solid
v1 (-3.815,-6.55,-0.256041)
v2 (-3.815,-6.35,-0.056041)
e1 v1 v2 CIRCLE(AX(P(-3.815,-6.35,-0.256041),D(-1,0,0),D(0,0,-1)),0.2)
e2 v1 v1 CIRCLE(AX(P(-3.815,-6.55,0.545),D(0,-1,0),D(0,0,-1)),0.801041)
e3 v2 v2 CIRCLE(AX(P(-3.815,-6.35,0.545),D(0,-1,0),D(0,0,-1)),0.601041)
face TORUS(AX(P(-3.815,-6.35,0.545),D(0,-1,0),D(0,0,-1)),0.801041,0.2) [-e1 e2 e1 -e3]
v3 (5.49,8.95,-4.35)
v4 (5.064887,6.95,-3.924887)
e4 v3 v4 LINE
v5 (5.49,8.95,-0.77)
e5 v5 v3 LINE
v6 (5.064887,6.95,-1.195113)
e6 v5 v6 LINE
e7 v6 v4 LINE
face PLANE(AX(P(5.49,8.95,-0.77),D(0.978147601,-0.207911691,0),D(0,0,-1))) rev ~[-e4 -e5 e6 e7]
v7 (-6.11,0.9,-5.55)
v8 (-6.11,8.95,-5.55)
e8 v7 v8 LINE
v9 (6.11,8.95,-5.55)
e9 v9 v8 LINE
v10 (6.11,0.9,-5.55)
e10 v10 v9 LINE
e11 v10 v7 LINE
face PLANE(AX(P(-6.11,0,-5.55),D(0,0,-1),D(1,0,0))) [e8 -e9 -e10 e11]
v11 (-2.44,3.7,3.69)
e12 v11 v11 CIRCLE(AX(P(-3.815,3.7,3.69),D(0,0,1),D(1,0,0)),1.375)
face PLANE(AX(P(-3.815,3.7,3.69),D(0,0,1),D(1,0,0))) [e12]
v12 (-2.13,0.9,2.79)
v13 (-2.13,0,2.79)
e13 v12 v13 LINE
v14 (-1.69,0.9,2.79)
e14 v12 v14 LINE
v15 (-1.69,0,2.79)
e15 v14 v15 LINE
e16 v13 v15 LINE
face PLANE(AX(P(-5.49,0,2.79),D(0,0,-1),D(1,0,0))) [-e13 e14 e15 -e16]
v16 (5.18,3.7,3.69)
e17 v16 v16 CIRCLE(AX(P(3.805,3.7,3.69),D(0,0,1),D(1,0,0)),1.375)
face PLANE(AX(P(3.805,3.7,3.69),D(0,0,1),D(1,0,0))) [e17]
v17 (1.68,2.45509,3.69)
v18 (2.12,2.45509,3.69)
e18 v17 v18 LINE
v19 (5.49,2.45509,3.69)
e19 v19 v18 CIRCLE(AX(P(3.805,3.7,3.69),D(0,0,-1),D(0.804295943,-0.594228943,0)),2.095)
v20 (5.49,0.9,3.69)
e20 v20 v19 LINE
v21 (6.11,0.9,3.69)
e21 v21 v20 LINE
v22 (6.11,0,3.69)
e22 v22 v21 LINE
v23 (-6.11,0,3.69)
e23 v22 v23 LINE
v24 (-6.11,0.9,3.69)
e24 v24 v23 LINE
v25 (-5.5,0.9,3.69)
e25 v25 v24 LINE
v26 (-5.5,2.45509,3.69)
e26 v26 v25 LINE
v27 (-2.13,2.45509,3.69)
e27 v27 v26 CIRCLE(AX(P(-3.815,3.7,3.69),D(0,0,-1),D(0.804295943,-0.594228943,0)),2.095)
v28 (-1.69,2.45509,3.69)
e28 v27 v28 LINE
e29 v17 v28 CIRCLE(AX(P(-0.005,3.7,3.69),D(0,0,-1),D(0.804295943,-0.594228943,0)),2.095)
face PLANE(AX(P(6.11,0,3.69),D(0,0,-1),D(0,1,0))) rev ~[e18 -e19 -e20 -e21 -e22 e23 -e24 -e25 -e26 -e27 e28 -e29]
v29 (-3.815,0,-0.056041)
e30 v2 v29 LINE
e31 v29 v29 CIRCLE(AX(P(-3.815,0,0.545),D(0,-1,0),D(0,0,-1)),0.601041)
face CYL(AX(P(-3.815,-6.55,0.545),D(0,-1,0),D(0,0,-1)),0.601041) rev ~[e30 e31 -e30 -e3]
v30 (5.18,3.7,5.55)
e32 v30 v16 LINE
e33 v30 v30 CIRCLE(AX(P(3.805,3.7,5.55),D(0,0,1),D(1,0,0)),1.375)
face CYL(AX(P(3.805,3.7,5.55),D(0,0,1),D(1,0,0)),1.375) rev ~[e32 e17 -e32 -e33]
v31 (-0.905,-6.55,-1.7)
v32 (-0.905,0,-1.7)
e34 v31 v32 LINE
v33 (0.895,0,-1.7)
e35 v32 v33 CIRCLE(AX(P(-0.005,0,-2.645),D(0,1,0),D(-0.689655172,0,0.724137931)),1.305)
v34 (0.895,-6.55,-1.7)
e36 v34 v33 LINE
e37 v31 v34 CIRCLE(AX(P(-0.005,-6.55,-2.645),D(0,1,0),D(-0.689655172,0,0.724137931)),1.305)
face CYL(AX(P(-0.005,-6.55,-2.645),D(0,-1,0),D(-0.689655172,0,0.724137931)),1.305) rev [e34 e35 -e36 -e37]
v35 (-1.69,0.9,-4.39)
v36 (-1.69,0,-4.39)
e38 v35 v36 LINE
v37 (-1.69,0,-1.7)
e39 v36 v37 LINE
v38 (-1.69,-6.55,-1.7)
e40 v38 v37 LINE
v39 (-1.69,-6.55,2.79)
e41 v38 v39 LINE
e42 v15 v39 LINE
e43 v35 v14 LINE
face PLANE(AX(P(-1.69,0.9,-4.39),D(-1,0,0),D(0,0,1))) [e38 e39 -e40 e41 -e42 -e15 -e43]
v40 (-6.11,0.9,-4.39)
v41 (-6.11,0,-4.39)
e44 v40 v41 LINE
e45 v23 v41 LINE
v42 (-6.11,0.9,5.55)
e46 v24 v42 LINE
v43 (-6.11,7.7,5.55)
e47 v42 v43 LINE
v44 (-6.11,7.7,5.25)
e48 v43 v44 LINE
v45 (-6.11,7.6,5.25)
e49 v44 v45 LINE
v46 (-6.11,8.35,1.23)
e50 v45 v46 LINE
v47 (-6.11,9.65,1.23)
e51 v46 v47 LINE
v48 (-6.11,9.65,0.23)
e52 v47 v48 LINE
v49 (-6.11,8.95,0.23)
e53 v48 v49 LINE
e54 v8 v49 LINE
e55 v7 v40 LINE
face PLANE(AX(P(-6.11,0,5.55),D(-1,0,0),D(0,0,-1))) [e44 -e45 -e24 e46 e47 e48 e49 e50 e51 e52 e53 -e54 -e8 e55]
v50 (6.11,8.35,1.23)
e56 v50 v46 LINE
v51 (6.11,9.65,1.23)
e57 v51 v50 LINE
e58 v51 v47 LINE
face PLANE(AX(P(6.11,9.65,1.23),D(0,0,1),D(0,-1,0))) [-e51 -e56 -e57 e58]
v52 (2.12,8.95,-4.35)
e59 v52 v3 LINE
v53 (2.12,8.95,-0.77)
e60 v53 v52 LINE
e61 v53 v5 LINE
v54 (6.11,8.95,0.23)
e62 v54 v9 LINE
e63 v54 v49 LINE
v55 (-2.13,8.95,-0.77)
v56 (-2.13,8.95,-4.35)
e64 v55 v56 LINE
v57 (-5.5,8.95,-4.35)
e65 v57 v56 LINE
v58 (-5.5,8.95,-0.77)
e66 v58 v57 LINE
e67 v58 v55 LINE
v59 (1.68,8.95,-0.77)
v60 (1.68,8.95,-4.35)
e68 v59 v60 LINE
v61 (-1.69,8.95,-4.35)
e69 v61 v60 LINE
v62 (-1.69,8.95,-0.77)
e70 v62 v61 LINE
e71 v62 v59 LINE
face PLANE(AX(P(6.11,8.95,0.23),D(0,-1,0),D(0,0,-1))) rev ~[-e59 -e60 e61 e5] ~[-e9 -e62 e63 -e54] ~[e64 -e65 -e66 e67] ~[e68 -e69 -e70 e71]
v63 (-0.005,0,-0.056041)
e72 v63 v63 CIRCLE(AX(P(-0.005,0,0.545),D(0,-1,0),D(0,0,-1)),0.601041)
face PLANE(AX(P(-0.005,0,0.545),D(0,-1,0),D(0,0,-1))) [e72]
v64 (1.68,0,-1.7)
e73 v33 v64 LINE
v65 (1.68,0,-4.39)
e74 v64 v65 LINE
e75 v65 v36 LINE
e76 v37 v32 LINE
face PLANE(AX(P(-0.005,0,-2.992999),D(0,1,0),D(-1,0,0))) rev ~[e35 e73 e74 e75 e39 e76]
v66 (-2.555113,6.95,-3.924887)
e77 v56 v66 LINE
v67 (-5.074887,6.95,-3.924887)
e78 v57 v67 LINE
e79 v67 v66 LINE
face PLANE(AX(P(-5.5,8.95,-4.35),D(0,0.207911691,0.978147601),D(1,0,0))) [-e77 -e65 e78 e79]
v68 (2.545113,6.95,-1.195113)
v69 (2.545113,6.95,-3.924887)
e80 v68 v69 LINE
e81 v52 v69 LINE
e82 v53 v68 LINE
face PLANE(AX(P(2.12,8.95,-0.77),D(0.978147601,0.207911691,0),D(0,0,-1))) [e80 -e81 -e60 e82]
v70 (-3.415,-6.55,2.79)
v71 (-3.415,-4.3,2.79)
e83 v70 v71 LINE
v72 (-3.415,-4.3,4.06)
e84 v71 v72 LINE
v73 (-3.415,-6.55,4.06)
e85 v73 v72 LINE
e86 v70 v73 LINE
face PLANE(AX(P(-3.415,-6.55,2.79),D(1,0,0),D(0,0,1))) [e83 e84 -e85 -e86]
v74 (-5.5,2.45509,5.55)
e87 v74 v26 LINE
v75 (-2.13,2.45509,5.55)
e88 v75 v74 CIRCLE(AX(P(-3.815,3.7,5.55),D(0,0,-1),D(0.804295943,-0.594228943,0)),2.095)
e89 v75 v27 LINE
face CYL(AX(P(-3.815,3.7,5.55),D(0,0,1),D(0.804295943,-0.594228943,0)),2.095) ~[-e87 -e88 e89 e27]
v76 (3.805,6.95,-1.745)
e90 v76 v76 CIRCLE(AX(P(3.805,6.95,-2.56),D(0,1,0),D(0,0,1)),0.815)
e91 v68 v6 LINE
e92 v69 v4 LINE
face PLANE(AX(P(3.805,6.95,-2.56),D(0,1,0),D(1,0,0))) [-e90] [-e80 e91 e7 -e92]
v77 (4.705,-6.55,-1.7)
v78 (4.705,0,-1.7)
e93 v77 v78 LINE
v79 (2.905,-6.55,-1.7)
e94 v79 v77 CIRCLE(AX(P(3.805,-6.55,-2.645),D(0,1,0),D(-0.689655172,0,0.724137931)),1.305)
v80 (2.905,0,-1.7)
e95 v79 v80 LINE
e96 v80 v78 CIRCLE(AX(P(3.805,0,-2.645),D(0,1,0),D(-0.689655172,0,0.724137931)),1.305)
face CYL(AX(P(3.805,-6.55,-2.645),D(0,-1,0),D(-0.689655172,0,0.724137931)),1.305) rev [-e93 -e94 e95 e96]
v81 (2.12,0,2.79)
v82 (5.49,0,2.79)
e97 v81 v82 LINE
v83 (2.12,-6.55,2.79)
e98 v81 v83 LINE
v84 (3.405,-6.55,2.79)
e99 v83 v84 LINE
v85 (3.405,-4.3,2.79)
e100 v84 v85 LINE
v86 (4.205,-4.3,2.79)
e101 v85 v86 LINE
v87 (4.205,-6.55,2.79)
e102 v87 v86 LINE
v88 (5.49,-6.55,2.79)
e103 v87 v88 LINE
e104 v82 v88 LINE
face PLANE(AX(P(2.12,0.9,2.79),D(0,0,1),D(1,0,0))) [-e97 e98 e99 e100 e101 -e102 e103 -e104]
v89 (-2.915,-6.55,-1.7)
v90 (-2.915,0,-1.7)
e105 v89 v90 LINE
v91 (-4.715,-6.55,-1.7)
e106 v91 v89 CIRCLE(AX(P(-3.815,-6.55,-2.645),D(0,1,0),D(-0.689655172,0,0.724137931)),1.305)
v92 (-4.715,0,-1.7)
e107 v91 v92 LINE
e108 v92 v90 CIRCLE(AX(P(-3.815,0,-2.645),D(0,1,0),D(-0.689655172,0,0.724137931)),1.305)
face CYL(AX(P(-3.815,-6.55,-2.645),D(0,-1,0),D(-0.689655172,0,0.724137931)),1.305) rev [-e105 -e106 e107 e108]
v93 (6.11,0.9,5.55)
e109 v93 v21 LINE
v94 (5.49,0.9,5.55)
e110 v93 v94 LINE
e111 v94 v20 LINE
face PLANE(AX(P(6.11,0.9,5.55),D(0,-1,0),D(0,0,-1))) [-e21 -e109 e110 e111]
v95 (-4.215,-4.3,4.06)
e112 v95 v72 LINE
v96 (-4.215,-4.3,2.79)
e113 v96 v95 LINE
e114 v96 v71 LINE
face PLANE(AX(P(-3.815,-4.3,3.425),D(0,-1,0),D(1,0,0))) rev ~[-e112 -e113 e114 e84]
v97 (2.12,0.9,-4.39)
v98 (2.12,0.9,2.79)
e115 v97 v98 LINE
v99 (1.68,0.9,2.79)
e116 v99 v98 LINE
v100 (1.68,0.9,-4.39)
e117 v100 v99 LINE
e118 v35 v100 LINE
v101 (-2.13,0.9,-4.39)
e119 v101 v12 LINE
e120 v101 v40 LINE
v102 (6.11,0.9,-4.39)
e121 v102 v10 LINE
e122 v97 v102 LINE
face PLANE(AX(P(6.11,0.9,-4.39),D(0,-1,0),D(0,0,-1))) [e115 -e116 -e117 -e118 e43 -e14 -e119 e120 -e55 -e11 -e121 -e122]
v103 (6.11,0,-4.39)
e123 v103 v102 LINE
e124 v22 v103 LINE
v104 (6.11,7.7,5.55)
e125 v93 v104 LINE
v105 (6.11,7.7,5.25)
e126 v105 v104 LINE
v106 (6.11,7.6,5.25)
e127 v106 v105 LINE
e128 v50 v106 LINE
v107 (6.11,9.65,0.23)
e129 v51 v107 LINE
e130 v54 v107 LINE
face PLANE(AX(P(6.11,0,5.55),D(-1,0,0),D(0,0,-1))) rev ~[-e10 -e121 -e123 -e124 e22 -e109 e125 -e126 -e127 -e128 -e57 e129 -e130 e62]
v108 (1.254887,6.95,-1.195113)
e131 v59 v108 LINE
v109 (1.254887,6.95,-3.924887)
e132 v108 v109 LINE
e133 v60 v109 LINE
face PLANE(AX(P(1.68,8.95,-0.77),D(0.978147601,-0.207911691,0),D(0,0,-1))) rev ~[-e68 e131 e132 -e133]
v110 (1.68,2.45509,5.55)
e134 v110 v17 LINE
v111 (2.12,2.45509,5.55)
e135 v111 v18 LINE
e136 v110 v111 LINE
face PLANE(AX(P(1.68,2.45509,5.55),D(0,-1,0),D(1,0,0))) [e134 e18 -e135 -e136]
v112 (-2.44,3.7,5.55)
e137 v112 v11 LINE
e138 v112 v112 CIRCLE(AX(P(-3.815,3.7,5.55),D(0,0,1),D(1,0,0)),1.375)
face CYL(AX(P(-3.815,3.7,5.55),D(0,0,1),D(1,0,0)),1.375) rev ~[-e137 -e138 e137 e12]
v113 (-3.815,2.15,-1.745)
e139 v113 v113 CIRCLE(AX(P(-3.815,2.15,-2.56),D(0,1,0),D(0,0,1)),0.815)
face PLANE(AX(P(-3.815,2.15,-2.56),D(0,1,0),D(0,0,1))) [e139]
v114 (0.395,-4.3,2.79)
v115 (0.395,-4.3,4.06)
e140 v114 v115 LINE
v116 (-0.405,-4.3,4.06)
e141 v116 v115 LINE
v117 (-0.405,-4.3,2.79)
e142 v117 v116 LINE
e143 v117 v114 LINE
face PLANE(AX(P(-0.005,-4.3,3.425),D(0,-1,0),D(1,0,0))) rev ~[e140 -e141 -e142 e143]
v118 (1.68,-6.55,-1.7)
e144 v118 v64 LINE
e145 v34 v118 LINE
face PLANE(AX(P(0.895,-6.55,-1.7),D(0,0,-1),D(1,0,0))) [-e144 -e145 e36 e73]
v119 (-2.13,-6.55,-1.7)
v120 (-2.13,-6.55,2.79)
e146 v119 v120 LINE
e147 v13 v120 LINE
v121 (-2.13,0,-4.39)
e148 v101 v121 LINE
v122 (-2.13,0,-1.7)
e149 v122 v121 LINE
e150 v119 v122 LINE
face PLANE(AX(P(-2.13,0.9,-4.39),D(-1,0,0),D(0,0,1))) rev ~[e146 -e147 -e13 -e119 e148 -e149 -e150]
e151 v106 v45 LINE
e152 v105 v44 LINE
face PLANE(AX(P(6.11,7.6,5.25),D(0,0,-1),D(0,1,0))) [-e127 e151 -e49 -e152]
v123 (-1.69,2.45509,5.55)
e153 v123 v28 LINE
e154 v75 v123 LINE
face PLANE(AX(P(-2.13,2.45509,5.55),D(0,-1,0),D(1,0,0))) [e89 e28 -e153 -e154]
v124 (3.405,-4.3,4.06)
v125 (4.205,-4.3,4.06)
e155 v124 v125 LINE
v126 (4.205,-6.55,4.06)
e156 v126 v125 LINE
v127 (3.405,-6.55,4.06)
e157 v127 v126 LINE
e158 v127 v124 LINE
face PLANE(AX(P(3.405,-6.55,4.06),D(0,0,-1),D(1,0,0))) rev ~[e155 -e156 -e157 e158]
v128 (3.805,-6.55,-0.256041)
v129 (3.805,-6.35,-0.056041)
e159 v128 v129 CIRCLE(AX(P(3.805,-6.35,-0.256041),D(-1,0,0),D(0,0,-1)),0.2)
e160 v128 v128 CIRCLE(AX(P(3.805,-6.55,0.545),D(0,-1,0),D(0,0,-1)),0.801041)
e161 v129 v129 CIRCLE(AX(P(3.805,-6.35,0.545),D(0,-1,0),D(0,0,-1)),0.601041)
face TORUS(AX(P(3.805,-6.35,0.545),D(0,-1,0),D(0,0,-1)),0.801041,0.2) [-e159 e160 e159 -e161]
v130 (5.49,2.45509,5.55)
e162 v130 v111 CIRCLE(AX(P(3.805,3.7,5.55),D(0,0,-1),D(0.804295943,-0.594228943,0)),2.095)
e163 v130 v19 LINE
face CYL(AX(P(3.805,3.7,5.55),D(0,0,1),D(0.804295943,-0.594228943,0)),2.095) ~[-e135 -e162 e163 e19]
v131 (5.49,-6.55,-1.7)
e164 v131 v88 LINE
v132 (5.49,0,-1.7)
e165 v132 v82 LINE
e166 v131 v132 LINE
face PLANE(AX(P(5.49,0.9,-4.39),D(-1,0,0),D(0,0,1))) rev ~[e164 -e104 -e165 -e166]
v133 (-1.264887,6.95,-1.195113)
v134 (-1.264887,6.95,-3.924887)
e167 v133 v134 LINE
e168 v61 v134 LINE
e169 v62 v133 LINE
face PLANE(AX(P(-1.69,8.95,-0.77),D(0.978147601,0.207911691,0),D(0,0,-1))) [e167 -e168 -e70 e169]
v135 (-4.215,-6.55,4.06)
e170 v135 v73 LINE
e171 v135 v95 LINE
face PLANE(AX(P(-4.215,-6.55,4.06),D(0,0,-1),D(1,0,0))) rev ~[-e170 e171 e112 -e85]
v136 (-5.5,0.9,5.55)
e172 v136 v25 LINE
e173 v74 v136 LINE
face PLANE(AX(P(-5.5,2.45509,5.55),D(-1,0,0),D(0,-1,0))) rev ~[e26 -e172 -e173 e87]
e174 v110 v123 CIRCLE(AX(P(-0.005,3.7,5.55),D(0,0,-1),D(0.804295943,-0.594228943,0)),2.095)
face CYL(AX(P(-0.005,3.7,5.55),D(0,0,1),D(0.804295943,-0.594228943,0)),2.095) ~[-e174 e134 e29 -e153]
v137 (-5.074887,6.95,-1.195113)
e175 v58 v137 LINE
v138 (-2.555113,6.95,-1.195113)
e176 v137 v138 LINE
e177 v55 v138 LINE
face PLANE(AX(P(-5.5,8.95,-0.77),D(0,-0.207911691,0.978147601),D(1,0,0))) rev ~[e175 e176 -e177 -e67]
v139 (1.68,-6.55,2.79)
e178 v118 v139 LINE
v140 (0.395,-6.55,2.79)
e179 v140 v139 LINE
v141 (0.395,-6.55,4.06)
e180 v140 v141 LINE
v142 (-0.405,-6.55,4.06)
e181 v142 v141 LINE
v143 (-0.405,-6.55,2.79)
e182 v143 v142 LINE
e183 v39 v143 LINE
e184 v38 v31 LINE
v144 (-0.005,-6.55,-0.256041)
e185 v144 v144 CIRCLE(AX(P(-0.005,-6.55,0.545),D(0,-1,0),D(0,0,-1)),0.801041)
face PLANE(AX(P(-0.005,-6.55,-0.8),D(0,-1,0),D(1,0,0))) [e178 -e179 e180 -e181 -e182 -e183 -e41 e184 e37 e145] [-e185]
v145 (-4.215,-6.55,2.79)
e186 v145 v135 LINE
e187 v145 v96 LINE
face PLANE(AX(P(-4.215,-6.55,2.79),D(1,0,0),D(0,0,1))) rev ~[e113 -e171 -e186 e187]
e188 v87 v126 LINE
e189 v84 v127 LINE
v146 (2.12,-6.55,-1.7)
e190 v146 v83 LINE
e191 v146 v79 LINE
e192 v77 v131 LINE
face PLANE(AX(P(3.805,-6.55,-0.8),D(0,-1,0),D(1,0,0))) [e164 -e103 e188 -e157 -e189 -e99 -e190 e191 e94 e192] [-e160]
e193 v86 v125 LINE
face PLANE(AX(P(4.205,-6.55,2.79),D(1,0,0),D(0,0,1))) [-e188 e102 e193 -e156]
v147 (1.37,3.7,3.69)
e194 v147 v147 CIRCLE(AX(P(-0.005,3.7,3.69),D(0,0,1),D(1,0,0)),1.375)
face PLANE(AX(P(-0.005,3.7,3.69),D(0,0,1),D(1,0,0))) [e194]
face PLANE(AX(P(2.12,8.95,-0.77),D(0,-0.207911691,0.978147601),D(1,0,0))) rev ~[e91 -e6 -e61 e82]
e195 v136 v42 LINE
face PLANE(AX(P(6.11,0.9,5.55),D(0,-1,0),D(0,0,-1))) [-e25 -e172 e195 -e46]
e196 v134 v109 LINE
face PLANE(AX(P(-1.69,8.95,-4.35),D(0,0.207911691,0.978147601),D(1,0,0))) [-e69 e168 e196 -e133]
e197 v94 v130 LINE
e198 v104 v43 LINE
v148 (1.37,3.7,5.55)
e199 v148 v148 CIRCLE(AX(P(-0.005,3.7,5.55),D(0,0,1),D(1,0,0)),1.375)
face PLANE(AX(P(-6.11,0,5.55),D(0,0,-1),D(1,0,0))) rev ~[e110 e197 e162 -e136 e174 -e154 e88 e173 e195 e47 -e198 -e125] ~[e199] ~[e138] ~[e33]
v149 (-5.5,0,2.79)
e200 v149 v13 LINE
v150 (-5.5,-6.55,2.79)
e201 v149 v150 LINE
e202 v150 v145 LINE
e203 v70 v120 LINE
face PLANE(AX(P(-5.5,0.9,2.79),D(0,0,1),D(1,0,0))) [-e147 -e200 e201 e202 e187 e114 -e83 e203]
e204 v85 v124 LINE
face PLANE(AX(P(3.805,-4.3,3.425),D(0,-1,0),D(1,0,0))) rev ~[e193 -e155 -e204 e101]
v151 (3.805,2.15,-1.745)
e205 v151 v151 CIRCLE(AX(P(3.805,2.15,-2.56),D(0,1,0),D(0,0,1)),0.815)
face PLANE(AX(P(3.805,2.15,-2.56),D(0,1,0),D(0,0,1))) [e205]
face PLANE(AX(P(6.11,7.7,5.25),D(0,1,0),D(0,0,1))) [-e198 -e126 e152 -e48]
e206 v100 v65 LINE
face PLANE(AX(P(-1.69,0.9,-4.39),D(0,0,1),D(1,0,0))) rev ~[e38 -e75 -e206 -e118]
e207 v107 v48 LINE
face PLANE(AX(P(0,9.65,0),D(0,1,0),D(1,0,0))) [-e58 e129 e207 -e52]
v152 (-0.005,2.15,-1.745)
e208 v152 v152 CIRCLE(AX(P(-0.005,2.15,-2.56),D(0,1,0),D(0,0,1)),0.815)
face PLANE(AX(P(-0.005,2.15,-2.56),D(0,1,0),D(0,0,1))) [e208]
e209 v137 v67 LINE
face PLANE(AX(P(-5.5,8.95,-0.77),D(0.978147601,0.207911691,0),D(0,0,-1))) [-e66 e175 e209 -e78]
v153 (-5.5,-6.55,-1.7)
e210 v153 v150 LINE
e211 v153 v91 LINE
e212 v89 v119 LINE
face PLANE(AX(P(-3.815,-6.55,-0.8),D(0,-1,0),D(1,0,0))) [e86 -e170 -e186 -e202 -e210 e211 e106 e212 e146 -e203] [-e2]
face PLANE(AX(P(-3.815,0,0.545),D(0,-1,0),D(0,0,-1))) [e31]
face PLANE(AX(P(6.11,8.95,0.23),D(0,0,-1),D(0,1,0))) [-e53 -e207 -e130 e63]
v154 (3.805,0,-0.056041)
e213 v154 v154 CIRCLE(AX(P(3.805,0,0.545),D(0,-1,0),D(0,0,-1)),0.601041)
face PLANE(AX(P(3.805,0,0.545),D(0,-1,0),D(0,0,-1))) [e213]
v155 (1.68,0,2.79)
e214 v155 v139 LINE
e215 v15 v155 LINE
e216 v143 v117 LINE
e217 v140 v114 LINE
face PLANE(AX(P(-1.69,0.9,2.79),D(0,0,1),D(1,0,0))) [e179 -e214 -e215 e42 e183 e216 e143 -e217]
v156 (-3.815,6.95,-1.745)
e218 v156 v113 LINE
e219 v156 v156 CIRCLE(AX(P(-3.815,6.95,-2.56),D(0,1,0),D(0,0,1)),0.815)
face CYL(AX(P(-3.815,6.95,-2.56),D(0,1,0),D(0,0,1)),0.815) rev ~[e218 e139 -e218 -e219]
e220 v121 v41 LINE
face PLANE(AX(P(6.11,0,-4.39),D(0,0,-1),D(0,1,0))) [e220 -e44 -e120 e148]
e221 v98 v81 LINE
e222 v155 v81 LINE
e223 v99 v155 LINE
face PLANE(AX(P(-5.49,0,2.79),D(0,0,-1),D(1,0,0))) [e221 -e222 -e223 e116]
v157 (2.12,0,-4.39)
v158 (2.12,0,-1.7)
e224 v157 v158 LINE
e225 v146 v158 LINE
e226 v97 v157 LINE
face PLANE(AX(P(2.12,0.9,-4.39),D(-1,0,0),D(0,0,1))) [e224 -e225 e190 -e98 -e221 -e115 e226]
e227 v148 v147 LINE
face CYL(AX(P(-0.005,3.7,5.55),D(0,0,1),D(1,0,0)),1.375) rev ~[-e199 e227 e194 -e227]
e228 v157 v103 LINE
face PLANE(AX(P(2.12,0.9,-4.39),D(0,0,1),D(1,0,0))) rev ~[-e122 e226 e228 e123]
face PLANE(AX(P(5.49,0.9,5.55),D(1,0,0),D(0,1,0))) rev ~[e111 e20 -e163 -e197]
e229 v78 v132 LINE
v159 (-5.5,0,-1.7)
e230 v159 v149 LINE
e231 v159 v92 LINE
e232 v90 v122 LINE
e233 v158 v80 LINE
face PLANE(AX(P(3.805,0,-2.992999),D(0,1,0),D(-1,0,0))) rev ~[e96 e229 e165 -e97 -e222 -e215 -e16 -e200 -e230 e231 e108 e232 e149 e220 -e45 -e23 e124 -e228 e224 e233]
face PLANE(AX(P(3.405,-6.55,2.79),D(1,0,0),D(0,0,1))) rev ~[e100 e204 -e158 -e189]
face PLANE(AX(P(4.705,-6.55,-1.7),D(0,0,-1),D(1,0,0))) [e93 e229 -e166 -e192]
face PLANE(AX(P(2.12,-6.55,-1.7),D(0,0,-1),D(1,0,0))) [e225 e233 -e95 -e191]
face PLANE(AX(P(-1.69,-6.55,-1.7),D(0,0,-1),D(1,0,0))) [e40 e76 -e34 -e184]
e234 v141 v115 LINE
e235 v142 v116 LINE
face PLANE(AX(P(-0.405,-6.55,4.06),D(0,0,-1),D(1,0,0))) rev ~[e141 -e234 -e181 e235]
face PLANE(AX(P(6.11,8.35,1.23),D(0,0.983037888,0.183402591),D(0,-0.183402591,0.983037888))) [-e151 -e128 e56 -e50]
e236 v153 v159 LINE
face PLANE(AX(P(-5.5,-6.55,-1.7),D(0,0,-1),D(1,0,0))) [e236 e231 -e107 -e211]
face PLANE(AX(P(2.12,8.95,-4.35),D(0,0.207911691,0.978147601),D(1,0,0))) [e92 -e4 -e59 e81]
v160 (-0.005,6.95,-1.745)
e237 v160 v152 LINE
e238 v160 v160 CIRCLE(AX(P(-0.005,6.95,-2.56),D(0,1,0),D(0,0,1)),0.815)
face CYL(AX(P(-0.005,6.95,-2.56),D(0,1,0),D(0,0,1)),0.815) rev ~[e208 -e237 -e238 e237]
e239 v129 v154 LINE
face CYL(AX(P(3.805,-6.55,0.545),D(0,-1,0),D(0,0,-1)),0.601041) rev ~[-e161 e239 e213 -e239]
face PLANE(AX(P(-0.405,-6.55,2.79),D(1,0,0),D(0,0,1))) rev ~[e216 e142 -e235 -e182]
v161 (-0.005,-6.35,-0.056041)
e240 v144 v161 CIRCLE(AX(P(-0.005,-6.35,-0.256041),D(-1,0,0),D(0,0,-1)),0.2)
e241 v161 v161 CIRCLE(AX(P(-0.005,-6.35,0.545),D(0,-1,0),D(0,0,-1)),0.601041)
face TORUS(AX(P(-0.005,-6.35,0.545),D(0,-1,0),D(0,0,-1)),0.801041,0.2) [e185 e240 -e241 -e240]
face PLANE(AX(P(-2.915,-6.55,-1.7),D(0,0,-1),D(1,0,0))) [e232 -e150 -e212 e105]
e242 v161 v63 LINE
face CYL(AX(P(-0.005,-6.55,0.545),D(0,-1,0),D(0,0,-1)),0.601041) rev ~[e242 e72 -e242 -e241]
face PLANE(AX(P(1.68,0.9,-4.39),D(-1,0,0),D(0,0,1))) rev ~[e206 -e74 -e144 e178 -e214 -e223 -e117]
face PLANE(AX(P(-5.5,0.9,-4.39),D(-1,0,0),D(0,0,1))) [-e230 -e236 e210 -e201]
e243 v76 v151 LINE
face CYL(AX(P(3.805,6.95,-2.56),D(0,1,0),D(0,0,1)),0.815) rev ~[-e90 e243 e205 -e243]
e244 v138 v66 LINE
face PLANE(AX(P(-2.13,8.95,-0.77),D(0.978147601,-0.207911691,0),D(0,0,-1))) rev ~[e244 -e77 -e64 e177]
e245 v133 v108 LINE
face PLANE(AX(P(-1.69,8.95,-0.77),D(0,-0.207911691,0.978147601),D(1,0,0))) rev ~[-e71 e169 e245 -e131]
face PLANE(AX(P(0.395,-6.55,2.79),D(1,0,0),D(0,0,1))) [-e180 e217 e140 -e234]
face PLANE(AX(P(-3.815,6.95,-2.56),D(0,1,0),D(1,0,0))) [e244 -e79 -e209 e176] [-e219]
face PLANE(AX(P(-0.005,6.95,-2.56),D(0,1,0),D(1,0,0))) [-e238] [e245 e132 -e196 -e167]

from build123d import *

# Parameters (mm, degrees)
SKETCH1_W                 = 12.22
SKETCH1_H                 = 11.1
BOSS_EXTRUDE1_DEPTH       = 9.65
SKETCH2_W                 = 5.78
SKETCH2_H                 = 0.7
CUT_EXTRUDE1_DEPTH        = 17.530378096
SKETCH4_W                 = 1.86
SKETCH4_H                 = 0.9
SKETCH4_W_2               = 1.16
CUT_EXTRUDE3_DEPTH        = 17.530378096
SKETCH5_W                 = 10.98
SKETCH5_H                 = 7.18
CUT_EXTRUDE4_DEPTH        = 0.9
SKETCH6_W                 = 3.37
SKETCH6_H                 = 7.18
BOSS_EXTRUDE2_DEPTH       = 7.45
SKETCH7_W                 = 0.8
SKETCH7_H                 = 1.27
BOSS_EXTRUDE3_DEPTH       = 2.25
SKETCH8_R                 = 0.601040764
CUT_EXTRUDE5_DEPTH        = 6.55
FILLET1_R                 = 0.2
SKETCH9_R                 = 1.375
CUT_EXTRUDE6_DEPTH        = 1.86
SKETCH11_W                = 3.37
SKETCH11_H                = 3.58
CUT_EXTRUDE8_DEPTH        = 2
CUT_EXTRUDE8_DRAFT        = -12
SKETCH12_R                = 0.815
CUT_EXTRUDE9_DEPTH        = 4.8
LPATTERN1_COUNT           = 3
LPATTERN1_PITCH           = 3.81
LPATTERN1_COPY_1_SKETCH_W = 3.37
LPATTERN1_COPY_1_SKETCH_H = 3.58
LPATTERN1_COPY_1_DEPTH    = 2
LPATTERN1_COPY_1_DRAFT    = -12
LPATTERN1_COPY_2_SKETCH_W = 3.37
LPATTERN1_COPY_2_SKETCH_H = 3.58
LPATTERN1_COPY_2_DEPTH    = 2
LPATTERN1_COPY_2_DRAFT    = -12
FILLET1_OF_LPATTERN1_R    = 0.2
SKETCH10_W                = 0.44
SKETCH10_H                = 1.555090365
CUT_EXTRUDE7_DEPTH        = 1.86
LPATTERN2_COUNT           = 2
LPATTERN2_PITCH           = 3.81


with BuildPart() as part:
    # Sketch1 → Boss-Extrude1 (new body)
    with BuildSketch(Plane(origin=(0, 0, 0), x_dir=(1, 0, 0), z_dir=(0, 1, 0))):
        Rectangle(SKETCH1_W, SKETCH1_H)
    extrude(amount=BOSS_EXTRUDE1_DEPTH)

    # Sketch2 → Cut-Extrude1 (cut, through all)
    with BuildSketch(Plane(origin=(6.11, 0, 0), x_dir=(0, 0, -1), z_dir=(1, 0, 0))):
        Polygon((-1.23, 9.65), (-1.23, 8.35), (-5.25, 7.6), (-5.25, 7.7), (-5.55, 7.7), (-5.55, 9.65), align=None)
        with Locations((2.66, 9.3)):
            Rectangle(SKETCH2_W, SKETCH2_H)
    extrude(amount=-CUT_EXTRUDE1_DEPTH, mode=Mode.SUBTRACT)

    # Sketch4 → Cut-Extrude3 (cut, through all)
    with BuildSketch(Plane(origin=(6.11, 0, 0), x_dir=(0, 0, -1), z_dir=(1, 0, 0))):
        with Locations((-4.62, 0.45)):
            Rectangle(SKETCH4_W, SKETCH4_H)
        with Locations((4.97, 0.45)):
            Rectangle(SKETCH4_W_2, SKETCH4_H)
    extrude(amount=-CUT_EXTRUDE3_DEPTH, mode=Mode.SUBTRACT)

    # Sketch5 → Cut-Extrude4 (cut)
    with BuildSketch(Plane.XZ):
        with Locations((0, -0.8)):
            Rectangle(SKETCH5_W, SKETCH5_H)
    extrude(amount=-CUT_EXTRUDE4_DEPTH, mode=Mode.SUBTRACT)

    # Sketch6 → Boss-Extrude2 (add)
    with BuildSketch(Plane.XZ.offset(-0.9)):
        with Locations((3.805, -0.8)):
            Rectangle(SKETCH6_W, SKETCH6_H)
    boss_extrude2 = extrude(amount=BOSS_EXTRUDE2_DEPTH)

    # Sketch7 → Boss-Extrude3 (add)
    with BuildSketch(Plane.XZ.offset(6.55)):
        with Locations((3.805, 3.425)):
            Rectangle(SKETCH7_W, SKETCH7_H)
    boss_extrude3 = extrude(amount=-BOSS_EXTRUDE3_DEPTH)

    # Sketch8 → Cut-Extrude5 (cut)
    with BuildSketch(Plane.XZ.offset(6.55)):
        with Locations(Location((3.805, 0.545, 0), (0, 0, 270))):
            Circle(SKETCH8_R)
        with BuildLine():
            Line((2.12, -1.7), (2.905, -1.7))
            ThreePointArc((2.905, -1.7), (3.805, -1.34), (4.705, -1.7))
            Line((4.705, -1.7), (5.49, -1.7))
            Line((5.49, -1.7), (5.49, -4.39))
            Line((5.49, -4.39), (2.12, -4.39))
            Line((2.12, -4.39), (2.12, -1.7))
        make_face()
    cut_extrude5 = extrude(amount=-CUT_EXTRUDE5_DEPTH, mode=Mode.SUBTRACT)

    # Fillet1
    fillet1_edges = [part.edges().sort_by_distance(p)[0] for p in [
        (3.805, -6.55, 1.146040764),
    ]]
    fillet(fillet1_edges, radius=FILLET1_R)

    # Sketch9 → Cut-Extrude6 (cut)
    with BuildSketch(Plane.XY.offset(5.55)):
        with Locations((3.805, 3.7)):
            Circle(SKETCH9_R)
        with BuildLine():
            Line((2.12, 2.455090365), (2.12, 0.9))
            Line((2.12, 0.9), (5.49, 0.9))
            Line((5.49, 0.9), (5.49, 2.455090365))
            ThreePointArc((5.49, 2.455090365), (3.805, 1.605), (2.12, 2.455090365))
        make_face()
    cut_extrude6 = extrude(amount=-CUT_EXTRUDE6_DEPTH, mode=Mode.SUBTRACT)


with BuildPart() as cut_extrude8_tool:
    # Sketch11 → Cut-Extrude8 (with draft: the straight prism first)
    with BuildSketch(Plane(origin=(0, 8.95, 0), x_dir=(1, 0, 0), z_dir=(0, 1, 0))):
        with Locations((3.805, 2.56)):
            Rectangle(SKETCH11_W, SKETCH11_H)
    extrude(amount=-CUT_EXTRUDE8_DEPTH)
    # Cut-Extrude8: the draft: its side faces are tilted about the plane it starts from
    cut_extrude8_sides = [cut_extrude8_tool.faces().sort_by_distance(p)[0] for p in [
        (5.49, 7.95, -2.56),
        (3.805, 7.95, -4.35),
        (2.12, 7.95, -2.56),
        (3.805, 7.95, -0.77),
    ]]
    draft(cut_extrude8_sides, Plane(origin=(0, 8.95, 0), x_dir=(1, 0, 0), z_dir=(0, 1, 0)), CUT_EXTRUDE8_DRAFT)


with BuildPart() as part_1:
    add(part.part)

    # Cut-Extrude8: cut by cut_extrude8_tool
    add(cut_extrude8_tool.part, mode=Mode.SUBTRACT)

    # Sketch12 → Cut-Extrude9 (cut)
    with BuildSketch(Plane(origin=(0, 6.95, 0), x_dir=(1, 0, 0), z_dir=(0, 1, 0))):
        with Locations(Location((3.805, 2.56, 0), (0, 0, 270))):
            Circle(SKETCH12_R)
    cut_extrude9 = extrude(amount=-CUT_EXTRUDE9_DEPTH, mode=Mode.SUBTRACT)

    # LPattern1: Boss-Extrude2, Boss-Extrude3, Cut-Extrude5, Cut-Extrude6, Cut-Extrude9 ×3
    with Locations(*[(-i * LPATTERN1_PITCH, 0, 0) for i in range(1, LPATTERN1_COUNT)]):
        add(boss_extrude2)
        add(boss_extrude3)
        add(cut_extrude5, mode=Mode.SUBTRACT)
        add(cut_extrude6, mode=Mode.SUBTRACT)
        add(cut_extrude9, mode=Mode.SUBTRACT)


with BuildPart() as lpattern1_copy_1_tool:
    # LPattern1 copy 1 sketch → LPattern1 copy 1 (with draft: the straight prism first)
    with BuildSketch(Plane(origin=(-3.81, 8.95, 0), x_dir=(1, 0, 0), z_dir=(0, 1, 0))):
        with Locations((3.805, 2.56)):
            Rectangle(LPATTERN1_COPY_1_SKETCH_W, LPATTERN1_COPY_1_SKETCH_H)
    extrude(amount=-LPATTERN1_COPY_1_DEPTH)
    # LPattern1 copy 1: the draft: its side faces are tilted about the plane it starts from
    lpattern1_copy_1_sides = [lpattern1_copy_1_tool.faces().sort_by_distance(p)[0] for p in [
        (1.68, 7.95, -2.56),
        (-0.005, 7.95, -4.35),
        (-1.69, 7.95, -2.56),
        (-0.005, 7.95, -0.77),
    ]]
    draft(lpattern1_copy_1_sides, Plane(origin=(-3.81, 8.95, 0), x_dir=(1, 0, 0), z_dir=(0, 1, 0)), LPATTERN1_COPY_1_DRAFT)


with BuildPart() as part_2:
    add(part_1.part)

    # LPattern1 copy 1: cut by lpattern1_copy_1_tool
    add(lpattern1_copy_1_tool.part, mode=Mode.SUBTRACT)


with BuildPart() as lpattern1_copy_2_tool:
    # LPattern1 copy 2 sketch → LPattern1 copy 2 (with draft: the straight prism first)
    with BuildSketch(Plane(origin=(-7.62, 8.95, 0), x_dir=(1, 0, 0), z_dir=(0, 1, 0))):
        with Locations((3.805, 2.56)):
            Rectangle(LPATTERN1_COPY_2_SKETCH_W, LPATTERN1_COPY_2_SKETCH_H)
    extrude(amount=-LPATTERN1_COPY_2_DEPTH)
    # LPattern1 copy 2: the draft: its side faces are tilted about the plane it starts from
    lpattern1_copy_2_sides = [lpattern1_copy_2_tool.faces().sort_by_distance(p)[0] for p in [
        (-2.13, 7.95, -2.56),
        (-3.815, 7.95, -4.35),
        (-5.5, 7.95, -2.56),
        (-3.815, 7.95, -0.77),
    ]]
    draft(lpattern1_copy_2_sides, Plane(origin=(-7.62, 8.95, 0), x_dir=(1, 0, 0), z_dir=(0, 1, 0)), LPATTERN1_COPY_2_DRAFT)


with BuildPart() as part_3:
    add(part_2.part)

    # LPattern1 copy 2: cut by lpattern1_copy_2_tool
    add(lpattern1_copy_2_tool.part, mode=Mode.SUBTRACT)

    # Fillet1 of LPattern1
    fillet1_of_lpattern1_edges = [part_3.edges().sort_by_distance(p)[0] for p in [
        (-0.005, -6.55, 1.146040764),
        (-3.815, -6.55, 1.146040764),
    ]]
    fillet(fillet1_of_lpattern1_edges, radius=FILLET1_OF_LPATTERN1_R)

    # Sketch10 → Cut-Extrude7 (cut)
    with BuildSketch(Plane.XY.offset(5.55)):
        with Locations((1.9, 1.677545183)):
            Rectangle(SKETCH10_W, SKETCH10_H)
    cut_extrude7 = extrude(amount=-CUT_EXTRUDE7_DEPTH, mode=Mode.SUBTRACT)

    # LPattern2: Cut-Extrude7 ×2
    with Locations(*[(-i * LPATTERN2_PITCH, 0, 0) for i in range(1, LPATTERN2_COUNT)]):
        add(cut_extrude7, mode=Mode.SUBTRACT)


solid = part_3.part
